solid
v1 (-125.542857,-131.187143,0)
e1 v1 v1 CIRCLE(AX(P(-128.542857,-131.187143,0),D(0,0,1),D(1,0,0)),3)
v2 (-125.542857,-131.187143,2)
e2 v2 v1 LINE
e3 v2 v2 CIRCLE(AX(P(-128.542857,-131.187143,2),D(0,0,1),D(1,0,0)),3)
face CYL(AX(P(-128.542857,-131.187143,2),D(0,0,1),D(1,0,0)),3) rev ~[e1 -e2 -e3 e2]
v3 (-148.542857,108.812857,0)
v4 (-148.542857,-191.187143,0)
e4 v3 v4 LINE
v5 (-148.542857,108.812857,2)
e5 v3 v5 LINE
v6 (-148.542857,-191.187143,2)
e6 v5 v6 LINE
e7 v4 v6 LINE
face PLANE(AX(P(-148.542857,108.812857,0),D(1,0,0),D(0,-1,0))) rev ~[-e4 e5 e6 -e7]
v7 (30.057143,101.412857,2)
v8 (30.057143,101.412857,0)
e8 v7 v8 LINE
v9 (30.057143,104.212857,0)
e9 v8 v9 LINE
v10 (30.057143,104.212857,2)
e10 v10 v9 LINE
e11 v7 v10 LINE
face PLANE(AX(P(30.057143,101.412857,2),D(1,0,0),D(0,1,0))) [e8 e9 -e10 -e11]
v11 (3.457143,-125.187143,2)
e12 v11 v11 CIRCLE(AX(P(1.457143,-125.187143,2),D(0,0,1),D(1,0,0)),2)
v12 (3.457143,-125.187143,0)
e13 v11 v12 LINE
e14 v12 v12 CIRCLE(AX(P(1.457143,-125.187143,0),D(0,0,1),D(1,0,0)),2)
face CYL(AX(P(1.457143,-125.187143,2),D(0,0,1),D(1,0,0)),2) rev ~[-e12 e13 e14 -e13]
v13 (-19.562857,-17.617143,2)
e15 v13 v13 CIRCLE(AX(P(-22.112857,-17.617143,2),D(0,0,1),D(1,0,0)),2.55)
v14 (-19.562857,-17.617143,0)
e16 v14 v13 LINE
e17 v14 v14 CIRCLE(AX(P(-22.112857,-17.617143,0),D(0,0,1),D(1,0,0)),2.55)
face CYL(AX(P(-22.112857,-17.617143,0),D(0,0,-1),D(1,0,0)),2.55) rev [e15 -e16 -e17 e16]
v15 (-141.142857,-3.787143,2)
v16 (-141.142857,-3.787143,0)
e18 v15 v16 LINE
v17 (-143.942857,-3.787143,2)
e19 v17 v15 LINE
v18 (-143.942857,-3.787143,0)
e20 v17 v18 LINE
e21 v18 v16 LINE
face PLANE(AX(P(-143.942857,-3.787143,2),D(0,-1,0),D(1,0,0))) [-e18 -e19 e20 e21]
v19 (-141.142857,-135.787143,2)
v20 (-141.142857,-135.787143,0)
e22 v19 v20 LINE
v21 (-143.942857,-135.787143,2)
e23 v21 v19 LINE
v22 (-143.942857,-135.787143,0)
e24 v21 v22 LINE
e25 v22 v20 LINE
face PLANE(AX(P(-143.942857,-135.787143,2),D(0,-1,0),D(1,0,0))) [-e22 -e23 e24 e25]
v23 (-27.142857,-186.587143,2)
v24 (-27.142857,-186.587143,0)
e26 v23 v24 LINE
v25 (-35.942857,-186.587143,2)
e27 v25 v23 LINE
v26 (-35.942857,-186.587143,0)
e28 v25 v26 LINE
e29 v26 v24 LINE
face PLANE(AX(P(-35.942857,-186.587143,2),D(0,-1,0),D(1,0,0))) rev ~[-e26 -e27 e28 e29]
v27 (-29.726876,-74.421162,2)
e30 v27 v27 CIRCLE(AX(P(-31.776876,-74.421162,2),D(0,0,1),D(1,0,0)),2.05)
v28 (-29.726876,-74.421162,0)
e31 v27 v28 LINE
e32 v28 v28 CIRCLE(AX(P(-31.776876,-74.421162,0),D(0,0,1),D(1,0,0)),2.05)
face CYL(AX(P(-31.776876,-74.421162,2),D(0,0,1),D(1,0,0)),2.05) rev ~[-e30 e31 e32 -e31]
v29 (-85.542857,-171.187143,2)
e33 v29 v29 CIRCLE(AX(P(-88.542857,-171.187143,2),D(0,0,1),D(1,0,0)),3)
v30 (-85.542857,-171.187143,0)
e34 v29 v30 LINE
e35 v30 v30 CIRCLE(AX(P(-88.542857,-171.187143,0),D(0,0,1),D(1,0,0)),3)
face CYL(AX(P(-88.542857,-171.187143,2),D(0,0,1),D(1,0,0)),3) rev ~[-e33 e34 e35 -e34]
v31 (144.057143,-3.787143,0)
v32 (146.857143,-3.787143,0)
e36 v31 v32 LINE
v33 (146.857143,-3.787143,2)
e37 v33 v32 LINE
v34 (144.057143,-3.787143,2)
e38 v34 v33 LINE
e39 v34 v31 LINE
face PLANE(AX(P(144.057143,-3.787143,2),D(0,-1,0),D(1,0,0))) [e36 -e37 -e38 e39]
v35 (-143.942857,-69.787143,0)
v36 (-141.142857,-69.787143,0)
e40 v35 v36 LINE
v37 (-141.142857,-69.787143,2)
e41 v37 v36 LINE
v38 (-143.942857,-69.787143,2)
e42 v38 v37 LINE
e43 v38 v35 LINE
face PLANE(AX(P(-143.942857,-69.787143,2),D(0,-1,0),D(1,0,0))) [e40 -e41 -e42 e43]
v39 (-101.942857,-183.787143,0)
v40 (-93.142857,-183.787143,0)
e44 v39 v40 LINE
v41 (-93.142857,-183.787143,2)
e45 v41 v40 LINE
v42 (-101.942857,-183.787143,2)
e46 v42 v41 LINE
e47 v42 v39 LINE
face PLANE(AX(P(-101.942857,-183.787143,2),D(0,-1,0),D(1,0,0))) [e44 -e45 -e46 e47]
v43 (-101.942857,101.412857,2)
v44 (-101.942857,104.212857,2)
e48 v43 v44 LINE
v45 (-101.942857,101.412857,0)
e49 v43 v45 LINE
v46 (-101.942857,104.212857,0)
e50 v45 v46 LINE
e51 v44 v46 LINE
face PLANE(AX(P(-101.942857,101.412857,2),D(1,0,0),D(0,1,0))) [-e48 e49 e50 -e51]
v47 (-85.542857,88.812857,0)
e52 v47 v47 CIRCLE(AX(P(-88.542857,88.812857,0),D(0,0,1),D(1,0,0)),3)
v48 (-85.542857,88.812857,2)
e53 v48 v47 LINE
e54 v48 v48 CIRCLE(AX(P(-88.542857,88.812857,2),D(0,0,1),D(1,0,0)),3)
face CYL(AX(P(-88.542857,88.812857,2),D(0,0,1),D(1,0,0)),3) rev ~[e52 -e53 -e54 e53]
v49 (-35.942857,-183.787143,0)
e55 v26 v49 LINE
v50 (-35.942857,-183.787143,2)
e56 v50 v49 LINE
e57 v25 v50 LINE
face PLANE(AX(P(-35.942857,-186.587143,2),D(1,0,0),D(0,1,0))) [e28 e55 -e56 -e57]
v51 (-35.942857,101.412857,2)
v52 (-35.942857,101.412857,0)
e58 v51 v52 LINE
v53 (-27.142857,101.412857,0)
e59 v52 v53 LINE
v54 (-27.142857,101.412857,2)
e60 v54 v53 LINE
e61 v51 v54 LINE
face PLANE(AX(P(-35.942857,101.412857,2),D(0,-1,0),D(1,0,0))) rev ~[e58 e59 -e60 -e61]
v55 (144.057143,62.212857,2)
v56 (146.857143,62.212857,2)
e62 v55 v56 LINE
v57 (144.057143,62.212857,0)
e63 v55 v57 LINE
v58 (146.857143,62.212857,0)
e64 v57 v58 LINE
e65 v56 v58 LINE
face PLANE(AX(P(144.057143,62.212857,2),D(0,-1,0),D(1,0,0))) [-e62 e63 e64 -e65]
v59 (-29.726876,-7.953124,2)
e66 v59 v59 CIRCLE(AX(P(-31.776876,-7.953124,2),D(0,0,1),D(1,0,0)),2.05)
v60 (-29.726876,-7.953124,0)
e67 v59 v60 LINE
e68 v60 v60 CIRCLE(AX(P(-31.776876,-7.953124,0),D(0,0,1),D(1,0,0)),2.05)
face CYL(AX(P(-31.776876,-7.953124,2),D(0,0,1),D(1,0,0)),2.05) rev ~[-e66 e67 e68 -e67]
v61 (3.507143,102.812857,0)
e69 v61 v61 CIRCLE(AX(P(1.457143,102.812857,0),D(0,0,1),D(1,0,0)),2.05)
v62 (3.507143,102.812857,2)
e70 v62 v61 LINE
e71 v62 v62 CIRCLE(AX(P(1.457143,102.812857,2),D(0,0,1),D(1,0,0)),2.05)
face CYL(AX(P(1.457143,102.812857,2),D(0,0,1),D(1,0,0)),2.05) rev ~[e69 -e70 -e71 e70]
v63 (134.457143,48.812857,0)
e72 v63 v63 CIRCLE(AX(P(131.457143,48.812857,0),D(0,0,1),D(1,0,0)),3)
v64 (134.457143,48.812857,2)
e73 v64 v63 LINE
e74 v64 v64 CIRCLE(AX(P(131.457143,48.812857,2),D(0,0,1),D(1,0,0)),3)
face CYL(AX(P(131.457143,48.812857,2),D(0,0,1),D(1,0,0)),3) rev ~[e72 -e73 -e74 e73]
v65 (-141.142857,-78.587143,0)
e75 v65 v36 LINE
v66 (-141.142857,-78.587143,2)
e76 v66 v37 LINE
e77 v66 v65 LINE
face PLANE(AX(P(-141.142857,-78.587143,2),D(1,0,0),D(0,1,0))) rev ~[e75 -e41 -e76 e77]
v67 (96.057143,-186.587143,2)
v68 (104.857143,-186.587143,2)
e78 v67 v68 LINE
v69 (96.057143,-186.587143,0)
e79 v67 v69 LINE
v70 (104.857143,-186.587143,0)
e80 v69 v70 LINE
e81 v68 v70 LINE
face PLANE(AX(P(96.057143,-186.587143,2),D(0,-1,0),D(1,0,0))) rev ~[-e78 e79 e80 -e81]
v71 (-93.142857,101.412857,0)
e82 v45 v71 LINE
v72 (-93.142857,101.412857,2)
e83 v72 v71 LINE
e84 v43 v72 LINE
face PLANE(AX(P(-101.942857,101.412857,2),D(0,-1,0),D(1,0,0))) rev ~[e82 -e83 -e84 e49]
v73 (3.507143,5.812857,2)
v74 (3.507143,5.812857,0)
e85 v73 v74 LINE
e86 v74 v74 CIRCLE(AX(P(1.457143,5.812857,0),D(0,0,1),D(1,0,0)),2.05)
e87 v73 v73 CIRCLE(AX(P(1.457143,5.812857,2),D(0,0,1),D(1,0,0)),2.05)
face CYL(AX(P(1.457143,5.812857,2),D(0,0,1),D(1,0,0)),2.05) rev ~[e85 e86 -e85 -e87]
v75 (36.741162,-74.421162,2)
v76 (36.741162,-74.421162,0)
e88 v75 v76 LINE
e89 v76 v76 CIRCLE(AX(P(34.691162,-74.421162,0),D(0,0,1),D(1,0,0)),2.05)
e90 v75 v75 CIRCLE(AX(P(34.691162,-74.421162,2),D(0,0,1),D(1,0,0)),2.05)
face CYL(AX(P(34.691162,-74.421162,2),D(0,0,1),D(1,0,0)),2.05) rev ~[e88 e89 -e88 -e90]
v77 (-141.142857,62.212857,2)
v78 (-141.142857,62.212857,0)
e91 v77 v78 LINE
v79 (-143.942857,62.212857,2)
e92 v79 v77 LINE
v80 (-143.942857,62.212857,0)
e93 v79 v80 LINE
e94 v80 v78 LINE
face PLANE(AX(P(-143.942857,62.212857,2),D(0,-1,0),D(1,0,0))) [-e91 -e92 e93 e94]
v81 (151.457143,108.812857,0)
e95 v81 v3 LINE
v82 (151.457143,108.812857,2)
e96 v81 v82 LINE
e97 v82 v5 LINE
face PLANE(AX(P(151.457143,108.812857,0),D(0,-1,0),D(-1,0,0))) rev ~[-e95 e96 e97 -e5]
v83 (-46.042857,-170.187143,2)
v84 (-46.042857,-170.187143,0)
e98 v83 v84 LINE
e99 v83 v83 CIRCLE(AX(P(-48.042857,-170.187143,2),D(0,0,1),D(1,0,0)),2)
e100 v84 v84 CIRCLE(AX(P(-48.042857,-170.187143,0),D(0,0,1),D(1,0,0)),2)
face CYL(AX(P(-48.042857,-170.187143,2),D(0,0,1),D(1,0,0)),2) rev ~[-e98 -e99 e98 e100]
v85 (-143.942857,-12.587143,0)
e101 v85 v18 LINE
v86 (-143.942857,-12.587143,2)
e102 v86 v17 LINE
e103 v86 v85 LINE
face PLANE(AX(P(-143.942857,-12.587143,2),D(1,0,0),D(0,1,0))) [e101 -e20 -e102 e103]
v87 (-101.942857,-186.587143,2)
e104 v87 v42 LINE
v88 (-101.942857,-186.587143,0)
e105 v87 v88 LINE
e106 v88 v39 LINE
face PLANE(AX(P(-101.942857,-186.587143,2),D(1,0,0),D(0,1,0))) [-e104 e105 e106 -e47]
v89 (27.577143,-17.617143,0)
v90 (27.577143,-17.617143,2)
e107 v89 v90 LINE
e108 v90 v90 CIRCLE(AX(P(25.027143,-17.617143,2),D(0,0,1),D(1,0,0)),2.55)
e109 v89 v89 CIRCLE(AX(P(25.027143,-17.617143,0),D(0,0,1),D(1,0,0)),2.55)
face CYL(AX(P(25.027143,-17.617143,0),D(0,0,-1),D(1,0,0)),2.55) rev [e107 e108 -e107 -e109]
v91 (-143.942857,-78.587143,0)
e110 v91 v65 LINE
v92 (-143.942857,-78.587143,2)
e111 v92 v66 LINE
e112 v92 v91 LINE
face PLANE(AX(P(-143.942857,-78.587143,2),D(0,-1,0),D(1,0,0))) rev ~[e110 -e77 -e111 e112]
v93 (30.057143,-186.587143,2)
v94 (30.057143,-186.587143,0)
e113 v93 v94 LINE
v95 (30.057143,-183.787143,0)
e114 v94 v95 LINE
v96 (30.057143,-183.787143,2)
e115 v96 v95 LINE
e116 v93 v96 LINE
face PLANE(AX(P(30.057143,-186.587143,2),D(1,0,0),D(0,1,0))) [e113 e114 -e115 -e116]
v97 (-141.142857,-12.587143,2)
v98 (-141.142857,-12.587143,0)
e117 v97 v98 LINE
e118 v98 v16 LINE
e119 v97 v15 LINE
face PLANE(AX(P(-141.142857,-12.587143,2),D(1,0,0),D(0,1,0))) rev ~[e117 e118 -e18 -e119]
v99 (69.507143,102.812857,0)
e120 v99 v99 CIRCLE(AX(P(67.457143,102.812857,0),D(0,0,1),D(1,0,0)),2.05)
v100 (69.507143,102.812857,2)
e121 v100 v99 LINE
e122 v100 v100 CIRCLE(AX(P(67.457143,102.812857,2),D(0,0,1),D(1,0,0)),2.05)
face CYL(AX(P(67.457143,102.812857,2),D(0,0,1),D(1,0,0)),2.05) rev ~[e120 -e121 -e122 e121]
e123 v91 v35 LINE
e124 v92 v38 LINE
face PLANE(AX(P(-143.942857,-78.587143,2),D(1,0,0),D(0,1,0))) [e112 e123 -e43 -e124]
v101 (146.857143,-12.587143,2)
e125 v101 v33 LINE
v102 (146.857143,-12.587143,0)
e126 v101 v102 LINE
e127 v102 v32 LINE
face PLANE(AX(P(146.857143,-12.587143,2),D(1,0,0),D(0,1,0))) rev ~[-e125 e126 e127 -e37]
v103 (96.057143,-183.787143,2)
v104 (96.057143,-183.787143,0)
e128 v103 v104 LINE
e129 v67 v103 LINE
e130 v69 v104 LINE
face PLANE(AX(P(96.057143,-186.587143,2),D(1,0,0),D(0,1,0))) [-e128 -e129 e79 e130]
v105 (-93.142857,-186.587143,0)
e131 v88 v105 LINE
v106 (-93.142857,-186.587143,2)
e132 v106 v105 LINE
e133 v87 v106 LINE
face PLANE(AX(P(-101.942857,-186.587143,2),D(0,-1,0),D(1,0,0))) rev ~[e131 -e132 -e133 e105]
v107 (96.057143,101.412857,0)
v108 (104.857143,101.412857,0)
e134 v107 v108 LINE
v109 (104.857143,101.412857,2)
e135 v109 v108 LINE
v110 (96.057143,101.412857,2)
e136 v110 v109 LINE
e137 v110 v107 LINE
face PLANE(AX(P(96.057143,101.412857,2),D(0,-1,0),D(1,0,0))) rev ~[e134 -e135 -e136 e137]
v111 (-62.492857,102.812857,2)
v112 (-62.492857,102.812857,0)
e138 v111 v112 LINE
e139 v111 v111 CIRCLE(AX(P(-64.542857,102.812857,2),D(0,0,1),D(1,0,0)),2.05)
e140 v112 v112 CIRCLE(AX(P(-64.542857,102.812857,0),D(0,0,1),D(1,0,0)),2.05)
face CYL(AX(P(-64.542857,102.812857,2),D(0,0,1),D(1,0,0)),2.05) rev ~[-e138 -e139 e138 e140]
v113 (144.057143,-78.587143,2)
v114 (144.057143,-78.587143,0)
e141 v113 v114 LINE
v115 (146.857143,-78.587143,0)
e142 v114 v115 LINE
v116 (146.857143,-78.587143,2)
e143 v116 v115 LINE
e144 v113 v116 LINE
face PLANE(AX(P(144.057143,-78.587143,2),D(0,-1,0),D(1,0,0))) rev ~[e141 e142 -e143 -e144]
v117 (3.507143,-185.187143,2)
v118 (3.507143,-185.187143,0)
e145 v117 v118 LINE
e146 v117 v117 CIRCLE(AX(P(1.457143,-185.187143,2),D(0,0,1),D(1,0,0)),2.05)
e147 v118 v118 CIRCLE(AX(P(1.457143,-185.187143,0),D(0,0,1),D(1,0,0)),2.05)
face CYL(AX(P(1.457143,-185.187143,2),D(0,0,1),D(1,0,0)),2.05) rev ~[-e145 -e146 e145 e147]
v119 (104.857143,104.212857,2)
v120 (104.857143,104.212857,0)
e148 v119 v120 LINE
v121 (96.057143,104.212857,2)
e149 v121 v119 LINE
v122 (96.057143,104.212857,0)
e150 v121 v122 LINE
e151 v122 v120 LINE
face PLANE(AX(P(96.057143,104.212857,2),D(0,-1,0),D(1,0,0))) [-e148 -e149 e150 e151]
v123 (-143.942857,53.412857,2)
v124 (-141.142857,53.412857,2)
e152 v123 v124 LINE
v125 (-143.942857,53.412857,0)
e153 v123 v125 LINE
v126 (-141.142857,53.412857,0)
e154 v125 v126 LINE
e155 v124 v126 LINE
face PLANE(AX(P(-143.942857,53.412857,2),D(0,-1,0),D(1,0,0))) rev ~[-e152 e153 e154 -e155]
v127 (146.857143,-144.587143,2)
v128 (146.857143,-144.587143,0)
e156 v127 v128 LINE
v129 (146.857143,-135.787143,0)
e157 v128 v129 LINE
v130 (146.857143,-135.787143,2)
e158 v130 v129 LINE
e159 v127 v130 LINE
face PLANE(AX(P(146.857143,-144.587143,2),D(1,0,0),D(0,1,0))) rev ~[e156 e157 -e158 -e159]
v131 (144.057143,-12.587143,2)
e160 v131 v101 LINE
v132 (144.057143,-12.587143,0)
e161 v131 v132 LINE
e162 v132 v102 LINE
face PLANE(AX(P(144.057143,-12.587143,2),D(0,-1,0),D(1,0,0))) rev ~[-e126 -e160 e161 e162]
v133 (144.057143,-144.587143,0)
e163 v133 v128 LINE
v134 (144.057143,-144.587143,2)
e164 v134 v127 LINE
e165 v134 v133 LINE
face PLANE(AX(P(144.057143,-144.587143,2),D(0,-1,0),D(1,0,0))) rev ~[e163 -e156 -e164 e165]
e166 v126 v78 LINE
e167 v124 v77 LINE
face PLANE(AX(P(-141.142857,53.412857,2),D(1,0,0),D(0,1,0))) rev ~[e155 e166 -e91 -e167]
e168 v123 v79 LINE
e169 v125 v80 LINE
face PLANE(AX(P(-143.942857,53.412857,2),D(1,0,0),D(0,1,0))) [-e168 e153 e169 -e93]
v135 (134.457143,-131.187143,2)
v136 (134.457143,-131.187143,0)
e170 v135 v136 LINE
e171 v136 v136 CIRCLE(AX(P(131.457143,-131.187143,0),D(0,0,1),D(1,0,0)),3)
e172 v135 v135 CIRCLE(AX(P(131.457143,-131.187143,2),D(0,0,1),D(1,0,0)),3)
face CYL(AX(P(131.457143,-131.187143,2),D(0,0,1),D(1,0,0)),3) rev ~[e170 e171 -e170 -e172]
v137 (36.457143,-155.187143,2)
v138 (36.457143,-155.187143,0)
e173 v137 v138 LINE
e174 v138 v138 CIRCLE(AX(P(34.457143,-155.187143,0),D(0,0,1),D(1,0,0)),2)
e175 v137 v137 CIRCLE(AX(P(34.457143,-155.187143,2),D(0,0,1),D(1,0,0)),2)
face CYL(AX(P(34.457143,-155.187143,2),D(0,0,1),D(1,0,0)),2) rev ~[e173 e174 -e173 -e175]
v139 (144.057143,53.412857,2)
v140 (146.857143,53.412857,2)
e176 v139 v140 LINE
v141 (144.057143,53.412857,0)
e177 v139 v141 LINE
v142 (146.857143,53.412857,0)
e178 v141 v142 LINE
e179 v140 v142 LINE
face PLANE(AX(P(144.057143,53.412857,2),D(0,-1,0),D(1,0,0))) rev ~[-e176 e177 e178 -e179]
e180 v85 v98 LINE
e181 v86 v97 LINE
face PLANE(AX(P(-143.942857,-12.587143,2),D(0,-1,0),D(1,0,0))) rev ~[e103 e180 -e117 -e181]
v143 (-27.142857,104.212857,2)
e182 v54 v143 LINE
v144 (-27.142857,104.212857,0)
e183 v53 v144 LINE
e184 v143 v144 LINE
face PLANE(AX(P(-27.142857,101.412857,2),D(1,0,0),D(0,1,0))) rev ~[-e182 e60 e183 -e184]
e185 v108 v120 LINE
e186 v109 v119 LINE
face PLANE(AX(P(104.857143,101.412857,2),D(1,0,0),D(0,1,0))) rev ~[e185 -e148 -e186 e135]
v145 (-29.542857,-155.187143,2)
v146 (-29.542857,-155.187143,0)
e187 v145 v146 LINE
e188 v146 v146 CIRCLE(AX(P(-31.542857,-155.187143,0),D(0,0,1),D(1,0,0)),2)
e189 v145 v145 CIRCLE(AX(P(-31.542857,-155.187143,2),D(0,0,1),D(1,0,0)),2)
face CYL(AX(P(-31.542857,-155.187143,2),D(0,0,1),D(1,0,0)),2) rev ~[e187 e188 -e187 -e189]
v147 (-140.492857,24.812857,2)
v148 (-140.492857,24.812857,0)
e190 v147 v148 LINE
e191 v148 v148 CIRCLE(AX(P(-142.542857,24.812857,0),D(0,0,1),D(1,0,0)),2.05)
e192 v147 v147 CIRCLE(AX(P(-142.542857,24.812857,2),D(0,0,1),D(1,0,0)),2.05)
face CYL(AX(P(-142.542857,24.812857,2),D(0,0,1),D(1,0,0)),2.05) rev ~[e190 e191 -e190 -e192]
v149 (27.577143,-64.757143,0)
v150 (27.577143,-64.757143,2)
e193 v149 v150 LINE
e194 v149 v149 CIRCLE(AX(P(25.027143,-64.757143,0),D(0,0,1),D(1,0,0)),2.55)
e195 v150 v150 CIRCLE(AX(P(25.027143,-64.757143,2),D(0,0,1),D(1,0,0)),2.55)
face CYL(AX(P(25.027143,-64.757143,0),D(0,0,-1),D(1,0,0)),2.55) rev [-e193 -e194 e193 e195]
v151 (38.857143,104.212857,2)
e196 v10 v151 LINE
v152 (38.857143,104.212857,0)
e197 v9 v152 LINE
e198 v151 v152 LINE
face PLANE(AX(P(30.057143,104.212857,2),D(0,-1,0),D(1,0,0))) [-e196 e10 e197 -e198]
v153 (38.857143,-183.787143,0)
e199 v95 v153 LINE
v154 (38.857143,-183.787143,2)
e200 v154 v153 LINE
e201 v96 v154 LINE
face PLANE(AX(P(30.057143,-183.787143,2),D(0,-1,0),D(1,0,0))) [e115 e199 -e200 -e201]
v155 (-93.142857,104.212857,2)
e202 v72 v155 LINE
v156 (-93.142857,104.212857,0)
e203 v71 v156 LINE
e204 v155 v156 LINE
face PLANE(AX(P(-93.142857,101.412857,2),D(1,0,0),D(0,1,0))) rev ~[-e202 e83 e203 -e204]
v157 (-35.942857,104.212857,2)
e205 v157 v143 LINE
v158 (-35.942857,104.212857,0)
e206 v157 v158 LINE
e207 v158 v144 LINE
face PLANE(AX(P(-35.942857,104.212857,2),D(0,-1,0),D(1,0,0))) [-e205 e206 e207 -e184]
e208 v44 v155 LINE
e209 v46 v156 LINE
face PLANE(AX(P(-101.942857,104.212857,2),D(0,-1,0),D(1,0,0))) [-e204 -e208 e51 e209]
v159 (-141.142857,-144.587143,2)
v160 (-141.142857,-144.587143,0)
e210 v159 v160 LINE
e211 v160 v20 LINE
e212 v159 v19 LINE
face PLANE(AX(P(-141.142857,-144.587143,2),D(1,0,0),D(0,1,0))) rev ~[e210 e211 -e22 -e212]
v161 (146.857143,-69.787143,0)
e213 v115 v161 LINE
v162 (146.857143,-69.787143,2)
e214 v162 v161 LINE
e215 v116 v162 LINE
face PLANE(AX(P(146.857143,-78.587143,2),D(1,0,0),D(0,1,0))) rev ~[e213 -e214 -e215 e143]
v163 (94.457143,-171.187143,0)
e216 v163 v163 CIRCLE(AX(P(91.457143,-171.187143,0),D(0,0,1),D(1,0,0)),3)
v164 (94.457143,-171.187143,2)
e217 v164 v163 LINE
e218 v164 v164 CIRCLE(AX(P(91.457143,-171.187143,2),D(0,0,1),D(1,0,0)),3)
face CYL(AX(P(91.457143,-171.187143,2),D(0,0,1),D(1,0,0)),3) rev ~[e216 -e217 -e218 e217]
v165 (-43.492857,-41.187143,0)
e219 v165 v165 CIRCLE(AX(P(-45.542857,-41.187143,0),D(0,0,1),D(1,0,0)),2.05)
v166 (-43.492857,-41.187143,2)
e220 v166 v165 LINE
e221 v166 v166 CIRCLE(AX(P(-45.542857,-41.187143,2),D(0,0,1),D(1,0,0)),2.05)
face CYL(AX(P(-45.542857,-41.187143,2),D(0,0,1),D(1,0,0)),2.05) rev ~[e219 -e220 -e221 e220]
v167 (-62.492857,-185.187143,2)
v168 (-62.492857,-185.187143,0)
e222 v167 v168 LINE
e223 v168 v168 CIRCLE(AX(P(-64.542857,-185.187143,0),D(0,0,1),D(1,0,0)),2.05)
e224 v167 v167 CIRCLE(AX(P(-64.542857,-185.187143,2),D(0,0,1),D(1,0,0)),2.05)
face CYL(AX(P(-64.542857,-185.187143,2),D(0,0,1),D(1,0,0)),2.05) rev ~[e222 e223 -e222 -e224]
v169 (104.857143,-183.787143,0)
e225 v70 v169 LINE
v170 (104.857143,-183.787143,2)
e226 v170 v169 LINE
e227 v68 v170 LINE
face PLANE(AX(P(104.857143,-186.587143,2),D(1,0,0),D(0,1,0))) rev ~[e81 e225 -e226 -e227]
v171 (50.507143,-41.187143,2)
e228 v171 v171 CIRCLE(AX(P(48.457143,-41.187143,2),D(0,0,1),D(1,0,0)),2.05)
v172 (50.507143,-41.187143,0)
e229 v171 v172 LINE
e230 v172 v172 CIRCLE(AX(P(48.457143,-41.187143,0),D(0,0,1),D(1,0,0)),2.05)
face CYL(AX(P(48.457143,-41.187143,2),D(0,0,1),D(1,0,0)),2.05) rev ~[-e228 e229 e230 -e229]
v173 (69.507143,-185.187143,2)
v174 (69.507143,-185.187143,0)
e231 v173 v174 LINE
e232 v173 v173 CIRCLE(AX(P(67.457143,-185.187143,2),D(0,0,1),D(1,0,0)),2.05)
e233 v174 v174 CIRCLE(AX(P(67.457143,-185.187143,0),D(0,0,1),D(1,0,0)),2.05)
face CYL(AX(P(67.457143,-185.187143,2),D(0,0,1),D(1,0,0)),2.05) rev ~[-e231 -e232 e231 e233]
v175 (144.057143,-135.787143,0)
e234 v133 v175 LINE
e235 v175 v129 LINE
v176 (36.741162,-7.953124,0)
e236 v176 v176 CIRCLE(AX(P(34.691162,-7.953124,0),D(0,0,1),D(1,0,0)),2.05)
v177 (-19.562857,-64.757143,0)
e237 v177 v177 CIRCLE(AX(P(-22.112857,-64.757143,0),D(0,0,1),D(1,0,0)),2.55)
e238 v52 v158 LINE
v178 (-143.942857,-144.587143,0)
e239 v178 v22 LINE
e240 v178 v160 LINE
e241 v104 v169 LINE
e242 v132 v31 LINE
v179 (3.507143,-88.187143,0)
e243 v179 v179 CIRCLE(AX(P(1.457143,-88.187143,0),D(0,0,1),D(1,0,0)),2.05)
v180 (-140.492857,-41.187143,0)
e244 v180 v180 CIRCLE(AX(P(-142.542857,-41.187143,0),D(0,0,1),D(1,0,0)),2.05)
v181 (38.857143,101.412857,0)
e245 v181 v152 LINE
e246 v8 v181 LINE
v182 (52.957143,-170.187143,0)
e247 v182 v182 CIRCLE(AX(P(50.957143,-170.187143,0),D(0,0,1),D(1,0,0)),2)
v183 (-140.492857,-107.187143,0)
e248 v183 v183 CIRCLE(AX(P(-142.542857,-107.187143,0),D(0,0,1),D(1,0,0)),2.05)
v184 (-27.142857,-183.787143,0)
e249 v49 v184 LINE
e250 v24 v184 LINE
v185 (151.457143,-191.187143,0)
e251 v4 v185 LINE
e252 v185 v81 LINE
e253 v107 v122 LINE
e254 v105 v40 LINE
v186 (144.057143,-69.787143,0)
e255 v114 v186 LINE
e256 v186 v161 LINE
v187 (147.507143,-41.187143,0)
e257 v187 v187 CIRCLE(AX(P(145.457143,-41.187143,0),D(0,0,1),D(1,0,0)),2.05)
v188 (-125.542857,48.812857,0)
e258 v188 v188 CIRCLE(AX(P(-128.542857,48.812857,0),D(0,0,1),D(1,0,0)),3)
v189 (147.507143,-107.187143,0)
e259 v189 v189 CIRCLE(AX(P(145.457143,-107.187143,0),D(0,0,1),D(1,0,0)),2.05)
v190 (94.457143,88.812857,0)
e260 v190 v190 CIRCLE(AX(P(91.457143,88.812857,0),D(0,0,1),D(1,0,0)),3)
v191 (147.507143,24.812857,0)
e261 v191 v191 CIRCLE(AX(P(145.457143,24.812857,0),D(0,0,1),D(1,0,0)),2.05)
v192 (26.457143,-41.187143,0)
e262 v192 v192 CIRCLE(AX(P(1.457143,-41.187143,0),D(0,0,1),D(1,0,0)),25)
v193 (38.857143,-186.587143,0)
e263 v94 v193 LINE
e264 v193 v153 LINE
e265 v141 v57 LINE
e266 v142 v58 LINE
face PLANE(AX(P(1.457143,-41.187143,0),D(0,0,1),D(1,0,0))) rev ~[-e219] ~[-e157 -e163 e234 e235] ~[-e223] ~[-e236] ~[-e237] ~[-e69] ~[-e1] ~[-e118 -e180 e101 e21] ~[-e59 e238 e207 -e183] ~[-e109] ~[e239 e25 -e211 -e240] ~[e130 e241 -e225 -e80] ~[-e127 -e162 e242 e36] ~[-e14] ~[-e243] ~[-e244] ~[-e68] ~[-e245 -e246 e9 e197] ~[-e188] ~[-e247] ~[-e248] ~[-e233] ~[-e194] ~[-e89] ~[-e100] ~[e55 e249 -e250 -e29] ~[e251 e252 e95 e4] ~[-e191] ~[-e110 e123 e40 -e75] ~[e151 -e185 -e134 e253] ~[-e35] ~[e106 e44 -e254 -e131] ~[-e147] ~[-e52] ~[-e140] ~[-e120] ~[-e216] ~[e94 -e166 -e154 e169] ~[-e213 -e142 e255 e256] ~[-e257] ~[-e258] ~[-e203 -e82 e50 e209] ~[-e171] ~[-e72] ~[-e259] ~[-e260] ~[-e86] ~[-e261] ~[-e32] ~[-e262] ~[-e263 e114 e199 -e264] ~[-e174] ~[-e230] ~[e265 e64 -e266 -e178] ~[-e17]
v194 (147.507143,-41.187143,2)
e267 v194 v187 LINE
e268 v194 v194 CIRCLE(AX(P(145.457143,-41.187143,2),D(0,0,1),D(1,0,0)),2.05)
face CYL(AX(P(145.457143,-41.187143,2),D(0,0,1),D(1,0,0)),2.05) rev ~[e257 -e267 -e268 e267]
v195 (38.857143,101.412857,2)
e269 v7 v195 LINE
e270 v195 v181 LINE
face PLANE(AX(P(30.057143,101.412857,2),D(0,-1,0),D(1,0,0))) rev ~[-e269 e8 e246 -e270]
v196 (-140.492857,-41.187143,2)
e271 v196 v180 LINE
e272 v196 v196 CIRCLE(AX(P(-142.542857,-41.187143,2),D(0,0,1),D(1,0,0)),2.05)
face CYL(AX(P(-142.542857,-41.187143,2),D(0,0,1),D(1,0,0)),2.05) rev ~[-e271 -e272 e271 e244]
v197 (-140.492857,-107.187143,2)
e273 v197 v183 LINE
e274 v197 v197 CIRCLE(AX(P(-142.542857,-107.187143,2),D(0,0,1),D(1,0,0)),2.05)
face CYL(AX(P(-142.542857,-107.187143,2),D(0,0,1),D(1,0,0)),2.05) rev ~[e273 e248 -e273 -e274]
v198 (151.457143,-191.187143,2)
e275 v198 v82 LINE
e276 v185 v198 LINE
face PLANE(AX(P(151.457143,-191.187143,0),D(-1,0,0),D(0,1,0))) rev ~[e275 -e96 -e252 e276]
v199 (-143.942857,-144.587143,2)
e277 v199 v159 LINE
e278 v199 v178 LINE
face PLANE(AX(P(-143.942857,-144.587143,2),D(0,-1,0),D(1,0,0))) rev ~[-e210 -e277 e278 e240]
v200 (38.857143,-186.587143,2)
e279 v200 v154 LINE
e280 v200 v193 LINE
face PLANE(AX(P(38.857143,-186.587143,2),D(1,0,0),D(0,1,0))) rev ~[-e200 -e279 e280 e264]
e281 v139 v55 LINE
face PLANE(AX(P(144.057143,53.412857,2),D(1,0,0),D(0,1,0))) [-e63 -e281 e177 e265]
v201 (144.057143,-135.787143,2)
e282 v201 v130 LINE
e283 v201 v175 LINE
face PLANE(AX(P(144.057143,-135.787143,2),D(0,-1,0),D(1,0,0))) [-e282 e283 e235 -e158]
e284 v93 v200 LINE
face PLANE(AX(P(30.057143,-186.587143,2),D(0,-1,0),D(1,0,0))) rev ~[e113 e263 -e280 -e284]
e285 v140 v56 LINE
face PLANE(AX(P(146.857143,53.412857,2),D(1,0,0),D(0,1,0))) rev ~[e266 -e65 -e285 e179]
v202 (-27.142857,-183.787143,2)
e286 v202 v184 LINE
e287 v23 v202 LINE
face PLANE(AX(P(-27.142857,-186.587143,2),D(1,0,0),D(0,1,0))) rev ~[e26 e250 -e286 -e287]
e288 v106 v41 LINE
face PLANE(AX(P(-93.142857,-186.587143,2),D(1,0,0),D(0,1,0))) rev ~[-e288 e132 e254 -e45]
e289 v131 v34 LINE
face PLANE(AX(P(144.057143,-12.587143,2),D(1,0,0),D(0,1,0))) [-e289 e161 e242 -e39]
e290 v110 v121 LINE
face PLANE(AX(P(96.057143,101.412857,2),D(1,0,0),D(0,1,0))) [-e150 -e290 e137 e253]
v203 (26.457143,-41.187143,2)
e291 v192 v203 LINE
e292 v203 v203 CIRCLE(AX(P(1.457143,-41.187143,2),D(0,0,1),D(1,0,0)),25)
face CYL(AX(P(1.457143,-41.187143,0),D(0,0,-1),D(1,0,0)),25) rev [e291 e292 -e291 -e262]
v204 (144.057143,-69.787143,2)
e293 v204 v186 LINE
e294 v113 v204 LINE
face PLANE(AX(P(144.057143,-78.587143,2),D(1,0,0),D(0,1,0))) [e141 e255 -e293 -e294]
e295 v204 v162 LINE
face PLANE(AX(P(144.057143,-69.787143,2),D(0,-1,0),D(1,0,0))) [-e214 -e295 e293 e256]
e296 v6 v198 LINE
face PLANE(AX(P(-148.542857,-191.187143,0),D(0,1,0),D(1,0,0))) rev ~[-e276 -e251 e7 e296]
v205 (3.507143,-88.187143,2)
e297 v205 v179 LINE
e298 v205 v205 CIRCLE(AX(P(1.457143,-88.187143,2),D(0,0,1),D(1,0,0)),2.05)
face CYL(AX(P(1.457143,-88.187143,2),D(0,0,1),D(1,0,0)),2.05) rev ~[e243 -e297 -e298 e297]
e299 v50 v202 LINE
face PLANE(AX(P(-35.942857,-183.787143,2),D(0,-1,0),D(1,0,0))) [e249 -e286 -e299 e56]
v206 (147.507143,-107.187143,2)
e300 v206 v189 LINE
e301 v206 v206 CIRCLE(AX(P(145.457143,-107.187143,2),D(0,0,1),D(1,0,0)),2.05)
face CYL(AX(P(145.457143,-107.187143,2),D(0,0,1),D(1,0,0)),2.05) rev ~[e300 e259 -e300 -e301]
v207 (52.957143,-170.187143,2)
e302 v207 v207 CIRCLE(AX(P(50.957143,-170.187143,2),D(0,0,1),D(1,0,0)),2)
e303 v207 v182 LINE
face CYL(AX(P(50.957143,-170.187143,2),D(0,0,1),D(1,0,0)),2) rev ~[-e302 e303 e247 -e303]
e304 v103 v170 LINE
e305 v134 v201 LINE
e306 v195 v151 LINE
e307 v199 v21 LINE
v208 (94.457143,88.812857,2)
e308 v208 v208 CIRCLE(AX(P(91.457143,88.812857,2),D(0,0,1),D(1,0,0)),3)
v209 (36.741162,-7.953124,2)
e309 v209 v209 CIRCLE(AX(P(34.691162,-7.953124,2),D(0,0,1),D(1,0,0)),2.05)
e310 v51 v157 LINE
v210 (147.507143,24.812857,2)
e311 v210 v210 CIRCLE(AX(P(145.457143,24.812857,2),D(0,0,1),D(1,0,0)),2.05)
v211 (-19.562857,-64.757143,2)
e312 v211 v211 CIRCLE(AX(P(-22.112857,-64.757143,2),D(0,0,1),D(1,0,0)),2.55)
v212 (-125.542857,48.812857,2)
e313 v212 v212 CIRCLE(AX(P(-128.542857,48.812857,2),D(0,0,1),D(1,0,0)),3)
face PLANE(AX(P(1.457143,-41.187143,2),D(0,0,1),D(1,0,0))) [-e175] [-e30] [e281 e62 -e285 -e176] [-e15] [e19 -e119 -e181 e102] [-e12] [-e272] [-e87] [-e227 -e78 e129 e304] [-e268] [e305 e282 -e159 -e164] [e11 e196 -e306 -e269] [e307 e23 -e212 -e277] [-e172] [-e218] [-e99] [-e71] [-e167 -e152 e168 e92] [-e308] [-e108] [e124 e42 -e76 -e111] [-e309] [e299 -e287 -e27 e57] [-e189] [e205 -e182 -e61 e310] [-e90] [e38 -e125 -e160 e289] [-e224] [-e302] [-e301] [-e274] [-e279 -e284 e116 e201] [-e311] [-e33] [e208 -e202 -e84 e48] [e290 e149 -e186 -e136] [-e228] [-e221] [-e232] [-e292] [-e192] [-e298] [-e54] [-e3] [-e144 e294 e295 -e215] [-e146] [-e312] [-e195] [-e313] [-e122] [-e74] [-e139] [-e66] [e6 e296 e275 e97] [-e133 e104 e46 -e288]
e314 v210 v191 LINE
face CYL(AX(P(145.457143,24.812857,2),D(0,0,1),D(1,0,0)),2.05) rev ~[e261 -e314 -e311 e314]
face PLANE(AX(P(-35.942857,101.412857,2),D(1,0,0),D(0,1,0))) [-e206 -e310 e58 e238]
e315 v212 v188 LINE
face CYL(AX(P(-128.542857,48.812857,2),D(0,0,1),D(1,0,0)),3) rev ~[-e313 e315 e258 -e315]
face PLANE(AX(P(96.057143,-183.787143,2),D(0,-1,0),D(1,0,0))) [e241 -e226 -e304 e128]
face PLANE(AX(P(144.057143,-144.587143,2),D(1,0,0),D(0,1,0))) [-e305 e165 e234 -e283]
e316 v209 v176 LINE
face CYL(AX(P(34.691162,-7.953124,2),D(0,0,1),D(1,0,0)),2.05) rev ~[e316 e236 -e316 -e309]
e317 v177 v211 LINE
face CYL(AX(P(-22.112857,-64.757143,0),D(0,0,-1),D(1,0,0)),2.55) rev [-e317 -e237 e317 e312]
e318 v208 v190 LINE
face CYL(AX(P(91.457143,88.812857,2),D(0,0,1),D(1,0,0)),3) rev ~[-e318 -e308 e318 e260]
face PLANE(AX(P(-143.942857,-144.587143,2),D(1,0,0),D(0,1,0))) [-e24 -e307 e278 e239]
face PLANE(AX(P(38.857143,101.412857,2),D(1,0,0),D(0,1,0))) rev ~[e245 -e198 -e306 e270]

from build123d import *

# Parameters (mm, degrees)
SKETCH_1_R          = 25
SKETCH_1_R_2        = 2.55
EXTRUDE_1_DEPTH     = 2
SKETCH_3_R          = 2.05
SKETCH_3_R_2        = 2
SKETCH_3_W          = 8.8
SKETCH_3_H          = 2.8
SKETCH_3_W_2        = 2.8
SKETCH_3_H_2        = 8.8
CUT_EXTRUDE_2_DEPTH = 4
SKETCH_7_R          = 3
CUT_EXTRUDE_3_DEPTH = 10


with BuildPart() as part:
    # 草图1 → 凸台-拉伸1 (new body)
    with BuildSketch(Plane.XY):
        Polygon((151.457142857, -41.187142857), (151.457142857, 108.812857143), (-148.542857143, 108.812857143), (-148.542857143, -191.187142857), (151.457142857, -191.187142857), align=None)
        with Locations((1.457142857, -41.187142857)):
            Circle(SKETCH_1_R, mode=Mode.SUBTRACT)
        with Locations((25.027142857, -17.617142857)):
            Circle(SKETCH_1_R_2, mode=Mode.SUBTRACT)
        with Locations((25.027142857, -64.757142857)):
            Circle(SKETCH_1_R_2, mode=Mode.SUBTRACT)
        with Locations((-22.112857143, -64.757142857)):
            Circle(SKETCH_1_R_2, mode=Mode.SUBTRACT)
        with Locations((-22.112857143, -17.617142857)):
            Circle(SKETCH_1_R_2, mode=Mode.SUBTRACT)
    extrude(amount=EXTRUDE_1_DEPTH)

    # 草图3 → 切除-拉伸2 (cut)
    with BuildSketch(Plane.XY.offset(2)):
        with Locations((1.457142857, -185.187142857)):
            Circle(SKETCH_3_R)
        with Locations((67.457142857, -185.187142857)):
            Circle(SKETCH_3_R)
        with Locations((-64.542857143, -185.187142857)):
            Circle(SKETCH_3_R)
        with Locations((-142.542857143, 24.812857143)):
            Circle(SKETCH_3_R)
        with Locations((-142.542857143, -41.187142857)):
            Circle(SKETCH_3_R)
        with Locations((-142.542857143, -107.187142857)):
            Circle(SKETCH_3_R)
        with Locations((67.457142857, 102.812857143)):
            Circle(SKETCH_3_R)
        with Locations((1.457142857, 102.812857143)):
            Circle(SKETCH_3_R)
        with Locations((-64.542857143, 102.812857143)):
            Circle(SKETCH_3_R)
        with Locations((145.457142857, -107.187142857)):
            Circle(SKETCH_3_R)
        with Locations((145.457142857, -41.187142857)):
            Circle(SKETCH_3_R)
        with Locations((145.457142857, 24.812857143)):
            Circle(SKETCH_3_R)
        with Locations((50.957142857, -170.187142857)):
            Circle(SKETCH_3_R_2)
        with Locations((-48.042857143, -170.187142857)):
            Circle(SKETCH_3_R_2)
        with Locations((-31.542857143, -155.187142857)):
            Circle(SKETCH_3_R_2)
        with Locations((34.457142857, -155.187142857)):
            Circle(SKETCH_3_R_2)
        with Locations((1.457142857, -88.187142857)):
            Circle(SKETCH_3_R)
        with Locations((-31.776875859, -74.421161573)):
            Circle(SKETCH_3_R)
        with Locations((-45.542857143, -41.187142857)):
            Circle(SKETCH_3_R)
        with Locations((-31.776875859, -7.953124141)):
            Circle(SKETCH_3_R)
        with Locations((1.457142857, 5.812857143)):
            Circle(SKETCH_3_R)
        with Locations((34.691161573, -7.953124141)):
            Circle(SKETCH_3_R)
        with Locations((48.457142857, -41.187142857)):
            Circle(SKETCH_3_R)
        with Locations((34.691161573, -74.421161573)):
            Circle(SKETCH_3_R)
        with Locations((1.457142857, -125.187142857)):
            Circle(SKETCH_3_R_2)
        with Locations((100.457142857, -185.187142857)):
            Rectangle(SKETCH_3_W, SKETCH_3_H)
        with Locations((34.457142857, -185.187142857)):
            Rectangle(SKETCH_3_W, SKETCH_3_H)
        with Locations((-31.542857143, -185.187142857)):
            Rectangle(SKETCH_3_W, SKETCH_3_H)
        with Locations((-97.542857143, -185.187142857)):
            Rectangle(SKETCH_3_W, SKETCH_3_H)
        with Locations((-142.542857143, 57.812857143)):
            Rectangle(SKETCH_3_W_2, SKETCH_3_H_2)
        with Locations((-142.542857143, -8.187142857)):
            Rectangle(SKETCH_3_W_2, SKETCH_3_H_2)
        with Locations((-142.542857143, -74.187142857)):
            Rectangle(SKETCH_3_W_2, SKETCH_3_H_2)
        with Locations((-142.542857143, -140.187142857)):
            Rectangle(SKETCH_3_W_2, SKETCH_3_H_2)
        with Locations((100.457142857, 102.812857143)):
            Rectangle(SKETCH_3_W, SKETCH_3_H)
        with Locations((34.457142857, 102.812857143)):
            Rectangle(SKETCH_3_W, SKETCH_3_H)
        with Locations((-31.542857143, 102.812857143)):
            Rectangle(SKETCH_3_W, SKETCH_3_H)
        with Locations((-97.542857143, 102.812857143)):
            Rectangle(SKETCH_3_W, SKETCH_3_H)
        with Locations((145.457142857, -140.187142857)):
            Rectangle(SKETCH_3_W_2, SKETCH_3_H_2)
        with Locations((145.457142857, -74.187142857)):
            Rectangle(SKETCH_3_W_2, SKETCH_3_H_2)
        with Locations((145.457142857, -8.187142857)):
            Rectangle(SKETCH_3_W_2, SKETCH_3_H_2)
        with Locations((145.457142857, 57.812857143)):
            Rectangle(SKETCH_3_W_2, SKETCH_3_H_2)
    extrude(amount=-CUT_EXTRUDE_2_DEPTH, mode=Mode.SUBTRACT)

    # 草图7 → 切除-拉伸3 (cut)
    with BuildSketch(Plane.XY.offset(2)):
        with Locations((-88.542857143, -171.187142857)):
            Circle(SKETCH_7_R)
        with Locations((91.457142857, -171.187142857)):
            Circle(SKETCH_7_R)
        with Locations((-128.542857143, 48.812857143)):
            Circle(SKETCH_7_R)
        with Locations((-128.542857143, -131.187142857)):
            Circle(SKETCH_7_R)
        with Locations((91.457142857, 88.812857143)):
            Circle(SKETCH_7_R)
        with Locations((-88.542857143, 88.812857143)):
            Circle(SKETCH_7_R)
        with Locations((131.457142857, -131.187142857)):
            Circle(SKETCH_7_R)
        with Locations((131.457142857, 48.812857143)):
            Circle(SKETCH_7_R)
    extrude(amount=-CUT_EXTRUDE_3_DEPTH, mode=Mode.SUBTRACT)


solid = part.part
